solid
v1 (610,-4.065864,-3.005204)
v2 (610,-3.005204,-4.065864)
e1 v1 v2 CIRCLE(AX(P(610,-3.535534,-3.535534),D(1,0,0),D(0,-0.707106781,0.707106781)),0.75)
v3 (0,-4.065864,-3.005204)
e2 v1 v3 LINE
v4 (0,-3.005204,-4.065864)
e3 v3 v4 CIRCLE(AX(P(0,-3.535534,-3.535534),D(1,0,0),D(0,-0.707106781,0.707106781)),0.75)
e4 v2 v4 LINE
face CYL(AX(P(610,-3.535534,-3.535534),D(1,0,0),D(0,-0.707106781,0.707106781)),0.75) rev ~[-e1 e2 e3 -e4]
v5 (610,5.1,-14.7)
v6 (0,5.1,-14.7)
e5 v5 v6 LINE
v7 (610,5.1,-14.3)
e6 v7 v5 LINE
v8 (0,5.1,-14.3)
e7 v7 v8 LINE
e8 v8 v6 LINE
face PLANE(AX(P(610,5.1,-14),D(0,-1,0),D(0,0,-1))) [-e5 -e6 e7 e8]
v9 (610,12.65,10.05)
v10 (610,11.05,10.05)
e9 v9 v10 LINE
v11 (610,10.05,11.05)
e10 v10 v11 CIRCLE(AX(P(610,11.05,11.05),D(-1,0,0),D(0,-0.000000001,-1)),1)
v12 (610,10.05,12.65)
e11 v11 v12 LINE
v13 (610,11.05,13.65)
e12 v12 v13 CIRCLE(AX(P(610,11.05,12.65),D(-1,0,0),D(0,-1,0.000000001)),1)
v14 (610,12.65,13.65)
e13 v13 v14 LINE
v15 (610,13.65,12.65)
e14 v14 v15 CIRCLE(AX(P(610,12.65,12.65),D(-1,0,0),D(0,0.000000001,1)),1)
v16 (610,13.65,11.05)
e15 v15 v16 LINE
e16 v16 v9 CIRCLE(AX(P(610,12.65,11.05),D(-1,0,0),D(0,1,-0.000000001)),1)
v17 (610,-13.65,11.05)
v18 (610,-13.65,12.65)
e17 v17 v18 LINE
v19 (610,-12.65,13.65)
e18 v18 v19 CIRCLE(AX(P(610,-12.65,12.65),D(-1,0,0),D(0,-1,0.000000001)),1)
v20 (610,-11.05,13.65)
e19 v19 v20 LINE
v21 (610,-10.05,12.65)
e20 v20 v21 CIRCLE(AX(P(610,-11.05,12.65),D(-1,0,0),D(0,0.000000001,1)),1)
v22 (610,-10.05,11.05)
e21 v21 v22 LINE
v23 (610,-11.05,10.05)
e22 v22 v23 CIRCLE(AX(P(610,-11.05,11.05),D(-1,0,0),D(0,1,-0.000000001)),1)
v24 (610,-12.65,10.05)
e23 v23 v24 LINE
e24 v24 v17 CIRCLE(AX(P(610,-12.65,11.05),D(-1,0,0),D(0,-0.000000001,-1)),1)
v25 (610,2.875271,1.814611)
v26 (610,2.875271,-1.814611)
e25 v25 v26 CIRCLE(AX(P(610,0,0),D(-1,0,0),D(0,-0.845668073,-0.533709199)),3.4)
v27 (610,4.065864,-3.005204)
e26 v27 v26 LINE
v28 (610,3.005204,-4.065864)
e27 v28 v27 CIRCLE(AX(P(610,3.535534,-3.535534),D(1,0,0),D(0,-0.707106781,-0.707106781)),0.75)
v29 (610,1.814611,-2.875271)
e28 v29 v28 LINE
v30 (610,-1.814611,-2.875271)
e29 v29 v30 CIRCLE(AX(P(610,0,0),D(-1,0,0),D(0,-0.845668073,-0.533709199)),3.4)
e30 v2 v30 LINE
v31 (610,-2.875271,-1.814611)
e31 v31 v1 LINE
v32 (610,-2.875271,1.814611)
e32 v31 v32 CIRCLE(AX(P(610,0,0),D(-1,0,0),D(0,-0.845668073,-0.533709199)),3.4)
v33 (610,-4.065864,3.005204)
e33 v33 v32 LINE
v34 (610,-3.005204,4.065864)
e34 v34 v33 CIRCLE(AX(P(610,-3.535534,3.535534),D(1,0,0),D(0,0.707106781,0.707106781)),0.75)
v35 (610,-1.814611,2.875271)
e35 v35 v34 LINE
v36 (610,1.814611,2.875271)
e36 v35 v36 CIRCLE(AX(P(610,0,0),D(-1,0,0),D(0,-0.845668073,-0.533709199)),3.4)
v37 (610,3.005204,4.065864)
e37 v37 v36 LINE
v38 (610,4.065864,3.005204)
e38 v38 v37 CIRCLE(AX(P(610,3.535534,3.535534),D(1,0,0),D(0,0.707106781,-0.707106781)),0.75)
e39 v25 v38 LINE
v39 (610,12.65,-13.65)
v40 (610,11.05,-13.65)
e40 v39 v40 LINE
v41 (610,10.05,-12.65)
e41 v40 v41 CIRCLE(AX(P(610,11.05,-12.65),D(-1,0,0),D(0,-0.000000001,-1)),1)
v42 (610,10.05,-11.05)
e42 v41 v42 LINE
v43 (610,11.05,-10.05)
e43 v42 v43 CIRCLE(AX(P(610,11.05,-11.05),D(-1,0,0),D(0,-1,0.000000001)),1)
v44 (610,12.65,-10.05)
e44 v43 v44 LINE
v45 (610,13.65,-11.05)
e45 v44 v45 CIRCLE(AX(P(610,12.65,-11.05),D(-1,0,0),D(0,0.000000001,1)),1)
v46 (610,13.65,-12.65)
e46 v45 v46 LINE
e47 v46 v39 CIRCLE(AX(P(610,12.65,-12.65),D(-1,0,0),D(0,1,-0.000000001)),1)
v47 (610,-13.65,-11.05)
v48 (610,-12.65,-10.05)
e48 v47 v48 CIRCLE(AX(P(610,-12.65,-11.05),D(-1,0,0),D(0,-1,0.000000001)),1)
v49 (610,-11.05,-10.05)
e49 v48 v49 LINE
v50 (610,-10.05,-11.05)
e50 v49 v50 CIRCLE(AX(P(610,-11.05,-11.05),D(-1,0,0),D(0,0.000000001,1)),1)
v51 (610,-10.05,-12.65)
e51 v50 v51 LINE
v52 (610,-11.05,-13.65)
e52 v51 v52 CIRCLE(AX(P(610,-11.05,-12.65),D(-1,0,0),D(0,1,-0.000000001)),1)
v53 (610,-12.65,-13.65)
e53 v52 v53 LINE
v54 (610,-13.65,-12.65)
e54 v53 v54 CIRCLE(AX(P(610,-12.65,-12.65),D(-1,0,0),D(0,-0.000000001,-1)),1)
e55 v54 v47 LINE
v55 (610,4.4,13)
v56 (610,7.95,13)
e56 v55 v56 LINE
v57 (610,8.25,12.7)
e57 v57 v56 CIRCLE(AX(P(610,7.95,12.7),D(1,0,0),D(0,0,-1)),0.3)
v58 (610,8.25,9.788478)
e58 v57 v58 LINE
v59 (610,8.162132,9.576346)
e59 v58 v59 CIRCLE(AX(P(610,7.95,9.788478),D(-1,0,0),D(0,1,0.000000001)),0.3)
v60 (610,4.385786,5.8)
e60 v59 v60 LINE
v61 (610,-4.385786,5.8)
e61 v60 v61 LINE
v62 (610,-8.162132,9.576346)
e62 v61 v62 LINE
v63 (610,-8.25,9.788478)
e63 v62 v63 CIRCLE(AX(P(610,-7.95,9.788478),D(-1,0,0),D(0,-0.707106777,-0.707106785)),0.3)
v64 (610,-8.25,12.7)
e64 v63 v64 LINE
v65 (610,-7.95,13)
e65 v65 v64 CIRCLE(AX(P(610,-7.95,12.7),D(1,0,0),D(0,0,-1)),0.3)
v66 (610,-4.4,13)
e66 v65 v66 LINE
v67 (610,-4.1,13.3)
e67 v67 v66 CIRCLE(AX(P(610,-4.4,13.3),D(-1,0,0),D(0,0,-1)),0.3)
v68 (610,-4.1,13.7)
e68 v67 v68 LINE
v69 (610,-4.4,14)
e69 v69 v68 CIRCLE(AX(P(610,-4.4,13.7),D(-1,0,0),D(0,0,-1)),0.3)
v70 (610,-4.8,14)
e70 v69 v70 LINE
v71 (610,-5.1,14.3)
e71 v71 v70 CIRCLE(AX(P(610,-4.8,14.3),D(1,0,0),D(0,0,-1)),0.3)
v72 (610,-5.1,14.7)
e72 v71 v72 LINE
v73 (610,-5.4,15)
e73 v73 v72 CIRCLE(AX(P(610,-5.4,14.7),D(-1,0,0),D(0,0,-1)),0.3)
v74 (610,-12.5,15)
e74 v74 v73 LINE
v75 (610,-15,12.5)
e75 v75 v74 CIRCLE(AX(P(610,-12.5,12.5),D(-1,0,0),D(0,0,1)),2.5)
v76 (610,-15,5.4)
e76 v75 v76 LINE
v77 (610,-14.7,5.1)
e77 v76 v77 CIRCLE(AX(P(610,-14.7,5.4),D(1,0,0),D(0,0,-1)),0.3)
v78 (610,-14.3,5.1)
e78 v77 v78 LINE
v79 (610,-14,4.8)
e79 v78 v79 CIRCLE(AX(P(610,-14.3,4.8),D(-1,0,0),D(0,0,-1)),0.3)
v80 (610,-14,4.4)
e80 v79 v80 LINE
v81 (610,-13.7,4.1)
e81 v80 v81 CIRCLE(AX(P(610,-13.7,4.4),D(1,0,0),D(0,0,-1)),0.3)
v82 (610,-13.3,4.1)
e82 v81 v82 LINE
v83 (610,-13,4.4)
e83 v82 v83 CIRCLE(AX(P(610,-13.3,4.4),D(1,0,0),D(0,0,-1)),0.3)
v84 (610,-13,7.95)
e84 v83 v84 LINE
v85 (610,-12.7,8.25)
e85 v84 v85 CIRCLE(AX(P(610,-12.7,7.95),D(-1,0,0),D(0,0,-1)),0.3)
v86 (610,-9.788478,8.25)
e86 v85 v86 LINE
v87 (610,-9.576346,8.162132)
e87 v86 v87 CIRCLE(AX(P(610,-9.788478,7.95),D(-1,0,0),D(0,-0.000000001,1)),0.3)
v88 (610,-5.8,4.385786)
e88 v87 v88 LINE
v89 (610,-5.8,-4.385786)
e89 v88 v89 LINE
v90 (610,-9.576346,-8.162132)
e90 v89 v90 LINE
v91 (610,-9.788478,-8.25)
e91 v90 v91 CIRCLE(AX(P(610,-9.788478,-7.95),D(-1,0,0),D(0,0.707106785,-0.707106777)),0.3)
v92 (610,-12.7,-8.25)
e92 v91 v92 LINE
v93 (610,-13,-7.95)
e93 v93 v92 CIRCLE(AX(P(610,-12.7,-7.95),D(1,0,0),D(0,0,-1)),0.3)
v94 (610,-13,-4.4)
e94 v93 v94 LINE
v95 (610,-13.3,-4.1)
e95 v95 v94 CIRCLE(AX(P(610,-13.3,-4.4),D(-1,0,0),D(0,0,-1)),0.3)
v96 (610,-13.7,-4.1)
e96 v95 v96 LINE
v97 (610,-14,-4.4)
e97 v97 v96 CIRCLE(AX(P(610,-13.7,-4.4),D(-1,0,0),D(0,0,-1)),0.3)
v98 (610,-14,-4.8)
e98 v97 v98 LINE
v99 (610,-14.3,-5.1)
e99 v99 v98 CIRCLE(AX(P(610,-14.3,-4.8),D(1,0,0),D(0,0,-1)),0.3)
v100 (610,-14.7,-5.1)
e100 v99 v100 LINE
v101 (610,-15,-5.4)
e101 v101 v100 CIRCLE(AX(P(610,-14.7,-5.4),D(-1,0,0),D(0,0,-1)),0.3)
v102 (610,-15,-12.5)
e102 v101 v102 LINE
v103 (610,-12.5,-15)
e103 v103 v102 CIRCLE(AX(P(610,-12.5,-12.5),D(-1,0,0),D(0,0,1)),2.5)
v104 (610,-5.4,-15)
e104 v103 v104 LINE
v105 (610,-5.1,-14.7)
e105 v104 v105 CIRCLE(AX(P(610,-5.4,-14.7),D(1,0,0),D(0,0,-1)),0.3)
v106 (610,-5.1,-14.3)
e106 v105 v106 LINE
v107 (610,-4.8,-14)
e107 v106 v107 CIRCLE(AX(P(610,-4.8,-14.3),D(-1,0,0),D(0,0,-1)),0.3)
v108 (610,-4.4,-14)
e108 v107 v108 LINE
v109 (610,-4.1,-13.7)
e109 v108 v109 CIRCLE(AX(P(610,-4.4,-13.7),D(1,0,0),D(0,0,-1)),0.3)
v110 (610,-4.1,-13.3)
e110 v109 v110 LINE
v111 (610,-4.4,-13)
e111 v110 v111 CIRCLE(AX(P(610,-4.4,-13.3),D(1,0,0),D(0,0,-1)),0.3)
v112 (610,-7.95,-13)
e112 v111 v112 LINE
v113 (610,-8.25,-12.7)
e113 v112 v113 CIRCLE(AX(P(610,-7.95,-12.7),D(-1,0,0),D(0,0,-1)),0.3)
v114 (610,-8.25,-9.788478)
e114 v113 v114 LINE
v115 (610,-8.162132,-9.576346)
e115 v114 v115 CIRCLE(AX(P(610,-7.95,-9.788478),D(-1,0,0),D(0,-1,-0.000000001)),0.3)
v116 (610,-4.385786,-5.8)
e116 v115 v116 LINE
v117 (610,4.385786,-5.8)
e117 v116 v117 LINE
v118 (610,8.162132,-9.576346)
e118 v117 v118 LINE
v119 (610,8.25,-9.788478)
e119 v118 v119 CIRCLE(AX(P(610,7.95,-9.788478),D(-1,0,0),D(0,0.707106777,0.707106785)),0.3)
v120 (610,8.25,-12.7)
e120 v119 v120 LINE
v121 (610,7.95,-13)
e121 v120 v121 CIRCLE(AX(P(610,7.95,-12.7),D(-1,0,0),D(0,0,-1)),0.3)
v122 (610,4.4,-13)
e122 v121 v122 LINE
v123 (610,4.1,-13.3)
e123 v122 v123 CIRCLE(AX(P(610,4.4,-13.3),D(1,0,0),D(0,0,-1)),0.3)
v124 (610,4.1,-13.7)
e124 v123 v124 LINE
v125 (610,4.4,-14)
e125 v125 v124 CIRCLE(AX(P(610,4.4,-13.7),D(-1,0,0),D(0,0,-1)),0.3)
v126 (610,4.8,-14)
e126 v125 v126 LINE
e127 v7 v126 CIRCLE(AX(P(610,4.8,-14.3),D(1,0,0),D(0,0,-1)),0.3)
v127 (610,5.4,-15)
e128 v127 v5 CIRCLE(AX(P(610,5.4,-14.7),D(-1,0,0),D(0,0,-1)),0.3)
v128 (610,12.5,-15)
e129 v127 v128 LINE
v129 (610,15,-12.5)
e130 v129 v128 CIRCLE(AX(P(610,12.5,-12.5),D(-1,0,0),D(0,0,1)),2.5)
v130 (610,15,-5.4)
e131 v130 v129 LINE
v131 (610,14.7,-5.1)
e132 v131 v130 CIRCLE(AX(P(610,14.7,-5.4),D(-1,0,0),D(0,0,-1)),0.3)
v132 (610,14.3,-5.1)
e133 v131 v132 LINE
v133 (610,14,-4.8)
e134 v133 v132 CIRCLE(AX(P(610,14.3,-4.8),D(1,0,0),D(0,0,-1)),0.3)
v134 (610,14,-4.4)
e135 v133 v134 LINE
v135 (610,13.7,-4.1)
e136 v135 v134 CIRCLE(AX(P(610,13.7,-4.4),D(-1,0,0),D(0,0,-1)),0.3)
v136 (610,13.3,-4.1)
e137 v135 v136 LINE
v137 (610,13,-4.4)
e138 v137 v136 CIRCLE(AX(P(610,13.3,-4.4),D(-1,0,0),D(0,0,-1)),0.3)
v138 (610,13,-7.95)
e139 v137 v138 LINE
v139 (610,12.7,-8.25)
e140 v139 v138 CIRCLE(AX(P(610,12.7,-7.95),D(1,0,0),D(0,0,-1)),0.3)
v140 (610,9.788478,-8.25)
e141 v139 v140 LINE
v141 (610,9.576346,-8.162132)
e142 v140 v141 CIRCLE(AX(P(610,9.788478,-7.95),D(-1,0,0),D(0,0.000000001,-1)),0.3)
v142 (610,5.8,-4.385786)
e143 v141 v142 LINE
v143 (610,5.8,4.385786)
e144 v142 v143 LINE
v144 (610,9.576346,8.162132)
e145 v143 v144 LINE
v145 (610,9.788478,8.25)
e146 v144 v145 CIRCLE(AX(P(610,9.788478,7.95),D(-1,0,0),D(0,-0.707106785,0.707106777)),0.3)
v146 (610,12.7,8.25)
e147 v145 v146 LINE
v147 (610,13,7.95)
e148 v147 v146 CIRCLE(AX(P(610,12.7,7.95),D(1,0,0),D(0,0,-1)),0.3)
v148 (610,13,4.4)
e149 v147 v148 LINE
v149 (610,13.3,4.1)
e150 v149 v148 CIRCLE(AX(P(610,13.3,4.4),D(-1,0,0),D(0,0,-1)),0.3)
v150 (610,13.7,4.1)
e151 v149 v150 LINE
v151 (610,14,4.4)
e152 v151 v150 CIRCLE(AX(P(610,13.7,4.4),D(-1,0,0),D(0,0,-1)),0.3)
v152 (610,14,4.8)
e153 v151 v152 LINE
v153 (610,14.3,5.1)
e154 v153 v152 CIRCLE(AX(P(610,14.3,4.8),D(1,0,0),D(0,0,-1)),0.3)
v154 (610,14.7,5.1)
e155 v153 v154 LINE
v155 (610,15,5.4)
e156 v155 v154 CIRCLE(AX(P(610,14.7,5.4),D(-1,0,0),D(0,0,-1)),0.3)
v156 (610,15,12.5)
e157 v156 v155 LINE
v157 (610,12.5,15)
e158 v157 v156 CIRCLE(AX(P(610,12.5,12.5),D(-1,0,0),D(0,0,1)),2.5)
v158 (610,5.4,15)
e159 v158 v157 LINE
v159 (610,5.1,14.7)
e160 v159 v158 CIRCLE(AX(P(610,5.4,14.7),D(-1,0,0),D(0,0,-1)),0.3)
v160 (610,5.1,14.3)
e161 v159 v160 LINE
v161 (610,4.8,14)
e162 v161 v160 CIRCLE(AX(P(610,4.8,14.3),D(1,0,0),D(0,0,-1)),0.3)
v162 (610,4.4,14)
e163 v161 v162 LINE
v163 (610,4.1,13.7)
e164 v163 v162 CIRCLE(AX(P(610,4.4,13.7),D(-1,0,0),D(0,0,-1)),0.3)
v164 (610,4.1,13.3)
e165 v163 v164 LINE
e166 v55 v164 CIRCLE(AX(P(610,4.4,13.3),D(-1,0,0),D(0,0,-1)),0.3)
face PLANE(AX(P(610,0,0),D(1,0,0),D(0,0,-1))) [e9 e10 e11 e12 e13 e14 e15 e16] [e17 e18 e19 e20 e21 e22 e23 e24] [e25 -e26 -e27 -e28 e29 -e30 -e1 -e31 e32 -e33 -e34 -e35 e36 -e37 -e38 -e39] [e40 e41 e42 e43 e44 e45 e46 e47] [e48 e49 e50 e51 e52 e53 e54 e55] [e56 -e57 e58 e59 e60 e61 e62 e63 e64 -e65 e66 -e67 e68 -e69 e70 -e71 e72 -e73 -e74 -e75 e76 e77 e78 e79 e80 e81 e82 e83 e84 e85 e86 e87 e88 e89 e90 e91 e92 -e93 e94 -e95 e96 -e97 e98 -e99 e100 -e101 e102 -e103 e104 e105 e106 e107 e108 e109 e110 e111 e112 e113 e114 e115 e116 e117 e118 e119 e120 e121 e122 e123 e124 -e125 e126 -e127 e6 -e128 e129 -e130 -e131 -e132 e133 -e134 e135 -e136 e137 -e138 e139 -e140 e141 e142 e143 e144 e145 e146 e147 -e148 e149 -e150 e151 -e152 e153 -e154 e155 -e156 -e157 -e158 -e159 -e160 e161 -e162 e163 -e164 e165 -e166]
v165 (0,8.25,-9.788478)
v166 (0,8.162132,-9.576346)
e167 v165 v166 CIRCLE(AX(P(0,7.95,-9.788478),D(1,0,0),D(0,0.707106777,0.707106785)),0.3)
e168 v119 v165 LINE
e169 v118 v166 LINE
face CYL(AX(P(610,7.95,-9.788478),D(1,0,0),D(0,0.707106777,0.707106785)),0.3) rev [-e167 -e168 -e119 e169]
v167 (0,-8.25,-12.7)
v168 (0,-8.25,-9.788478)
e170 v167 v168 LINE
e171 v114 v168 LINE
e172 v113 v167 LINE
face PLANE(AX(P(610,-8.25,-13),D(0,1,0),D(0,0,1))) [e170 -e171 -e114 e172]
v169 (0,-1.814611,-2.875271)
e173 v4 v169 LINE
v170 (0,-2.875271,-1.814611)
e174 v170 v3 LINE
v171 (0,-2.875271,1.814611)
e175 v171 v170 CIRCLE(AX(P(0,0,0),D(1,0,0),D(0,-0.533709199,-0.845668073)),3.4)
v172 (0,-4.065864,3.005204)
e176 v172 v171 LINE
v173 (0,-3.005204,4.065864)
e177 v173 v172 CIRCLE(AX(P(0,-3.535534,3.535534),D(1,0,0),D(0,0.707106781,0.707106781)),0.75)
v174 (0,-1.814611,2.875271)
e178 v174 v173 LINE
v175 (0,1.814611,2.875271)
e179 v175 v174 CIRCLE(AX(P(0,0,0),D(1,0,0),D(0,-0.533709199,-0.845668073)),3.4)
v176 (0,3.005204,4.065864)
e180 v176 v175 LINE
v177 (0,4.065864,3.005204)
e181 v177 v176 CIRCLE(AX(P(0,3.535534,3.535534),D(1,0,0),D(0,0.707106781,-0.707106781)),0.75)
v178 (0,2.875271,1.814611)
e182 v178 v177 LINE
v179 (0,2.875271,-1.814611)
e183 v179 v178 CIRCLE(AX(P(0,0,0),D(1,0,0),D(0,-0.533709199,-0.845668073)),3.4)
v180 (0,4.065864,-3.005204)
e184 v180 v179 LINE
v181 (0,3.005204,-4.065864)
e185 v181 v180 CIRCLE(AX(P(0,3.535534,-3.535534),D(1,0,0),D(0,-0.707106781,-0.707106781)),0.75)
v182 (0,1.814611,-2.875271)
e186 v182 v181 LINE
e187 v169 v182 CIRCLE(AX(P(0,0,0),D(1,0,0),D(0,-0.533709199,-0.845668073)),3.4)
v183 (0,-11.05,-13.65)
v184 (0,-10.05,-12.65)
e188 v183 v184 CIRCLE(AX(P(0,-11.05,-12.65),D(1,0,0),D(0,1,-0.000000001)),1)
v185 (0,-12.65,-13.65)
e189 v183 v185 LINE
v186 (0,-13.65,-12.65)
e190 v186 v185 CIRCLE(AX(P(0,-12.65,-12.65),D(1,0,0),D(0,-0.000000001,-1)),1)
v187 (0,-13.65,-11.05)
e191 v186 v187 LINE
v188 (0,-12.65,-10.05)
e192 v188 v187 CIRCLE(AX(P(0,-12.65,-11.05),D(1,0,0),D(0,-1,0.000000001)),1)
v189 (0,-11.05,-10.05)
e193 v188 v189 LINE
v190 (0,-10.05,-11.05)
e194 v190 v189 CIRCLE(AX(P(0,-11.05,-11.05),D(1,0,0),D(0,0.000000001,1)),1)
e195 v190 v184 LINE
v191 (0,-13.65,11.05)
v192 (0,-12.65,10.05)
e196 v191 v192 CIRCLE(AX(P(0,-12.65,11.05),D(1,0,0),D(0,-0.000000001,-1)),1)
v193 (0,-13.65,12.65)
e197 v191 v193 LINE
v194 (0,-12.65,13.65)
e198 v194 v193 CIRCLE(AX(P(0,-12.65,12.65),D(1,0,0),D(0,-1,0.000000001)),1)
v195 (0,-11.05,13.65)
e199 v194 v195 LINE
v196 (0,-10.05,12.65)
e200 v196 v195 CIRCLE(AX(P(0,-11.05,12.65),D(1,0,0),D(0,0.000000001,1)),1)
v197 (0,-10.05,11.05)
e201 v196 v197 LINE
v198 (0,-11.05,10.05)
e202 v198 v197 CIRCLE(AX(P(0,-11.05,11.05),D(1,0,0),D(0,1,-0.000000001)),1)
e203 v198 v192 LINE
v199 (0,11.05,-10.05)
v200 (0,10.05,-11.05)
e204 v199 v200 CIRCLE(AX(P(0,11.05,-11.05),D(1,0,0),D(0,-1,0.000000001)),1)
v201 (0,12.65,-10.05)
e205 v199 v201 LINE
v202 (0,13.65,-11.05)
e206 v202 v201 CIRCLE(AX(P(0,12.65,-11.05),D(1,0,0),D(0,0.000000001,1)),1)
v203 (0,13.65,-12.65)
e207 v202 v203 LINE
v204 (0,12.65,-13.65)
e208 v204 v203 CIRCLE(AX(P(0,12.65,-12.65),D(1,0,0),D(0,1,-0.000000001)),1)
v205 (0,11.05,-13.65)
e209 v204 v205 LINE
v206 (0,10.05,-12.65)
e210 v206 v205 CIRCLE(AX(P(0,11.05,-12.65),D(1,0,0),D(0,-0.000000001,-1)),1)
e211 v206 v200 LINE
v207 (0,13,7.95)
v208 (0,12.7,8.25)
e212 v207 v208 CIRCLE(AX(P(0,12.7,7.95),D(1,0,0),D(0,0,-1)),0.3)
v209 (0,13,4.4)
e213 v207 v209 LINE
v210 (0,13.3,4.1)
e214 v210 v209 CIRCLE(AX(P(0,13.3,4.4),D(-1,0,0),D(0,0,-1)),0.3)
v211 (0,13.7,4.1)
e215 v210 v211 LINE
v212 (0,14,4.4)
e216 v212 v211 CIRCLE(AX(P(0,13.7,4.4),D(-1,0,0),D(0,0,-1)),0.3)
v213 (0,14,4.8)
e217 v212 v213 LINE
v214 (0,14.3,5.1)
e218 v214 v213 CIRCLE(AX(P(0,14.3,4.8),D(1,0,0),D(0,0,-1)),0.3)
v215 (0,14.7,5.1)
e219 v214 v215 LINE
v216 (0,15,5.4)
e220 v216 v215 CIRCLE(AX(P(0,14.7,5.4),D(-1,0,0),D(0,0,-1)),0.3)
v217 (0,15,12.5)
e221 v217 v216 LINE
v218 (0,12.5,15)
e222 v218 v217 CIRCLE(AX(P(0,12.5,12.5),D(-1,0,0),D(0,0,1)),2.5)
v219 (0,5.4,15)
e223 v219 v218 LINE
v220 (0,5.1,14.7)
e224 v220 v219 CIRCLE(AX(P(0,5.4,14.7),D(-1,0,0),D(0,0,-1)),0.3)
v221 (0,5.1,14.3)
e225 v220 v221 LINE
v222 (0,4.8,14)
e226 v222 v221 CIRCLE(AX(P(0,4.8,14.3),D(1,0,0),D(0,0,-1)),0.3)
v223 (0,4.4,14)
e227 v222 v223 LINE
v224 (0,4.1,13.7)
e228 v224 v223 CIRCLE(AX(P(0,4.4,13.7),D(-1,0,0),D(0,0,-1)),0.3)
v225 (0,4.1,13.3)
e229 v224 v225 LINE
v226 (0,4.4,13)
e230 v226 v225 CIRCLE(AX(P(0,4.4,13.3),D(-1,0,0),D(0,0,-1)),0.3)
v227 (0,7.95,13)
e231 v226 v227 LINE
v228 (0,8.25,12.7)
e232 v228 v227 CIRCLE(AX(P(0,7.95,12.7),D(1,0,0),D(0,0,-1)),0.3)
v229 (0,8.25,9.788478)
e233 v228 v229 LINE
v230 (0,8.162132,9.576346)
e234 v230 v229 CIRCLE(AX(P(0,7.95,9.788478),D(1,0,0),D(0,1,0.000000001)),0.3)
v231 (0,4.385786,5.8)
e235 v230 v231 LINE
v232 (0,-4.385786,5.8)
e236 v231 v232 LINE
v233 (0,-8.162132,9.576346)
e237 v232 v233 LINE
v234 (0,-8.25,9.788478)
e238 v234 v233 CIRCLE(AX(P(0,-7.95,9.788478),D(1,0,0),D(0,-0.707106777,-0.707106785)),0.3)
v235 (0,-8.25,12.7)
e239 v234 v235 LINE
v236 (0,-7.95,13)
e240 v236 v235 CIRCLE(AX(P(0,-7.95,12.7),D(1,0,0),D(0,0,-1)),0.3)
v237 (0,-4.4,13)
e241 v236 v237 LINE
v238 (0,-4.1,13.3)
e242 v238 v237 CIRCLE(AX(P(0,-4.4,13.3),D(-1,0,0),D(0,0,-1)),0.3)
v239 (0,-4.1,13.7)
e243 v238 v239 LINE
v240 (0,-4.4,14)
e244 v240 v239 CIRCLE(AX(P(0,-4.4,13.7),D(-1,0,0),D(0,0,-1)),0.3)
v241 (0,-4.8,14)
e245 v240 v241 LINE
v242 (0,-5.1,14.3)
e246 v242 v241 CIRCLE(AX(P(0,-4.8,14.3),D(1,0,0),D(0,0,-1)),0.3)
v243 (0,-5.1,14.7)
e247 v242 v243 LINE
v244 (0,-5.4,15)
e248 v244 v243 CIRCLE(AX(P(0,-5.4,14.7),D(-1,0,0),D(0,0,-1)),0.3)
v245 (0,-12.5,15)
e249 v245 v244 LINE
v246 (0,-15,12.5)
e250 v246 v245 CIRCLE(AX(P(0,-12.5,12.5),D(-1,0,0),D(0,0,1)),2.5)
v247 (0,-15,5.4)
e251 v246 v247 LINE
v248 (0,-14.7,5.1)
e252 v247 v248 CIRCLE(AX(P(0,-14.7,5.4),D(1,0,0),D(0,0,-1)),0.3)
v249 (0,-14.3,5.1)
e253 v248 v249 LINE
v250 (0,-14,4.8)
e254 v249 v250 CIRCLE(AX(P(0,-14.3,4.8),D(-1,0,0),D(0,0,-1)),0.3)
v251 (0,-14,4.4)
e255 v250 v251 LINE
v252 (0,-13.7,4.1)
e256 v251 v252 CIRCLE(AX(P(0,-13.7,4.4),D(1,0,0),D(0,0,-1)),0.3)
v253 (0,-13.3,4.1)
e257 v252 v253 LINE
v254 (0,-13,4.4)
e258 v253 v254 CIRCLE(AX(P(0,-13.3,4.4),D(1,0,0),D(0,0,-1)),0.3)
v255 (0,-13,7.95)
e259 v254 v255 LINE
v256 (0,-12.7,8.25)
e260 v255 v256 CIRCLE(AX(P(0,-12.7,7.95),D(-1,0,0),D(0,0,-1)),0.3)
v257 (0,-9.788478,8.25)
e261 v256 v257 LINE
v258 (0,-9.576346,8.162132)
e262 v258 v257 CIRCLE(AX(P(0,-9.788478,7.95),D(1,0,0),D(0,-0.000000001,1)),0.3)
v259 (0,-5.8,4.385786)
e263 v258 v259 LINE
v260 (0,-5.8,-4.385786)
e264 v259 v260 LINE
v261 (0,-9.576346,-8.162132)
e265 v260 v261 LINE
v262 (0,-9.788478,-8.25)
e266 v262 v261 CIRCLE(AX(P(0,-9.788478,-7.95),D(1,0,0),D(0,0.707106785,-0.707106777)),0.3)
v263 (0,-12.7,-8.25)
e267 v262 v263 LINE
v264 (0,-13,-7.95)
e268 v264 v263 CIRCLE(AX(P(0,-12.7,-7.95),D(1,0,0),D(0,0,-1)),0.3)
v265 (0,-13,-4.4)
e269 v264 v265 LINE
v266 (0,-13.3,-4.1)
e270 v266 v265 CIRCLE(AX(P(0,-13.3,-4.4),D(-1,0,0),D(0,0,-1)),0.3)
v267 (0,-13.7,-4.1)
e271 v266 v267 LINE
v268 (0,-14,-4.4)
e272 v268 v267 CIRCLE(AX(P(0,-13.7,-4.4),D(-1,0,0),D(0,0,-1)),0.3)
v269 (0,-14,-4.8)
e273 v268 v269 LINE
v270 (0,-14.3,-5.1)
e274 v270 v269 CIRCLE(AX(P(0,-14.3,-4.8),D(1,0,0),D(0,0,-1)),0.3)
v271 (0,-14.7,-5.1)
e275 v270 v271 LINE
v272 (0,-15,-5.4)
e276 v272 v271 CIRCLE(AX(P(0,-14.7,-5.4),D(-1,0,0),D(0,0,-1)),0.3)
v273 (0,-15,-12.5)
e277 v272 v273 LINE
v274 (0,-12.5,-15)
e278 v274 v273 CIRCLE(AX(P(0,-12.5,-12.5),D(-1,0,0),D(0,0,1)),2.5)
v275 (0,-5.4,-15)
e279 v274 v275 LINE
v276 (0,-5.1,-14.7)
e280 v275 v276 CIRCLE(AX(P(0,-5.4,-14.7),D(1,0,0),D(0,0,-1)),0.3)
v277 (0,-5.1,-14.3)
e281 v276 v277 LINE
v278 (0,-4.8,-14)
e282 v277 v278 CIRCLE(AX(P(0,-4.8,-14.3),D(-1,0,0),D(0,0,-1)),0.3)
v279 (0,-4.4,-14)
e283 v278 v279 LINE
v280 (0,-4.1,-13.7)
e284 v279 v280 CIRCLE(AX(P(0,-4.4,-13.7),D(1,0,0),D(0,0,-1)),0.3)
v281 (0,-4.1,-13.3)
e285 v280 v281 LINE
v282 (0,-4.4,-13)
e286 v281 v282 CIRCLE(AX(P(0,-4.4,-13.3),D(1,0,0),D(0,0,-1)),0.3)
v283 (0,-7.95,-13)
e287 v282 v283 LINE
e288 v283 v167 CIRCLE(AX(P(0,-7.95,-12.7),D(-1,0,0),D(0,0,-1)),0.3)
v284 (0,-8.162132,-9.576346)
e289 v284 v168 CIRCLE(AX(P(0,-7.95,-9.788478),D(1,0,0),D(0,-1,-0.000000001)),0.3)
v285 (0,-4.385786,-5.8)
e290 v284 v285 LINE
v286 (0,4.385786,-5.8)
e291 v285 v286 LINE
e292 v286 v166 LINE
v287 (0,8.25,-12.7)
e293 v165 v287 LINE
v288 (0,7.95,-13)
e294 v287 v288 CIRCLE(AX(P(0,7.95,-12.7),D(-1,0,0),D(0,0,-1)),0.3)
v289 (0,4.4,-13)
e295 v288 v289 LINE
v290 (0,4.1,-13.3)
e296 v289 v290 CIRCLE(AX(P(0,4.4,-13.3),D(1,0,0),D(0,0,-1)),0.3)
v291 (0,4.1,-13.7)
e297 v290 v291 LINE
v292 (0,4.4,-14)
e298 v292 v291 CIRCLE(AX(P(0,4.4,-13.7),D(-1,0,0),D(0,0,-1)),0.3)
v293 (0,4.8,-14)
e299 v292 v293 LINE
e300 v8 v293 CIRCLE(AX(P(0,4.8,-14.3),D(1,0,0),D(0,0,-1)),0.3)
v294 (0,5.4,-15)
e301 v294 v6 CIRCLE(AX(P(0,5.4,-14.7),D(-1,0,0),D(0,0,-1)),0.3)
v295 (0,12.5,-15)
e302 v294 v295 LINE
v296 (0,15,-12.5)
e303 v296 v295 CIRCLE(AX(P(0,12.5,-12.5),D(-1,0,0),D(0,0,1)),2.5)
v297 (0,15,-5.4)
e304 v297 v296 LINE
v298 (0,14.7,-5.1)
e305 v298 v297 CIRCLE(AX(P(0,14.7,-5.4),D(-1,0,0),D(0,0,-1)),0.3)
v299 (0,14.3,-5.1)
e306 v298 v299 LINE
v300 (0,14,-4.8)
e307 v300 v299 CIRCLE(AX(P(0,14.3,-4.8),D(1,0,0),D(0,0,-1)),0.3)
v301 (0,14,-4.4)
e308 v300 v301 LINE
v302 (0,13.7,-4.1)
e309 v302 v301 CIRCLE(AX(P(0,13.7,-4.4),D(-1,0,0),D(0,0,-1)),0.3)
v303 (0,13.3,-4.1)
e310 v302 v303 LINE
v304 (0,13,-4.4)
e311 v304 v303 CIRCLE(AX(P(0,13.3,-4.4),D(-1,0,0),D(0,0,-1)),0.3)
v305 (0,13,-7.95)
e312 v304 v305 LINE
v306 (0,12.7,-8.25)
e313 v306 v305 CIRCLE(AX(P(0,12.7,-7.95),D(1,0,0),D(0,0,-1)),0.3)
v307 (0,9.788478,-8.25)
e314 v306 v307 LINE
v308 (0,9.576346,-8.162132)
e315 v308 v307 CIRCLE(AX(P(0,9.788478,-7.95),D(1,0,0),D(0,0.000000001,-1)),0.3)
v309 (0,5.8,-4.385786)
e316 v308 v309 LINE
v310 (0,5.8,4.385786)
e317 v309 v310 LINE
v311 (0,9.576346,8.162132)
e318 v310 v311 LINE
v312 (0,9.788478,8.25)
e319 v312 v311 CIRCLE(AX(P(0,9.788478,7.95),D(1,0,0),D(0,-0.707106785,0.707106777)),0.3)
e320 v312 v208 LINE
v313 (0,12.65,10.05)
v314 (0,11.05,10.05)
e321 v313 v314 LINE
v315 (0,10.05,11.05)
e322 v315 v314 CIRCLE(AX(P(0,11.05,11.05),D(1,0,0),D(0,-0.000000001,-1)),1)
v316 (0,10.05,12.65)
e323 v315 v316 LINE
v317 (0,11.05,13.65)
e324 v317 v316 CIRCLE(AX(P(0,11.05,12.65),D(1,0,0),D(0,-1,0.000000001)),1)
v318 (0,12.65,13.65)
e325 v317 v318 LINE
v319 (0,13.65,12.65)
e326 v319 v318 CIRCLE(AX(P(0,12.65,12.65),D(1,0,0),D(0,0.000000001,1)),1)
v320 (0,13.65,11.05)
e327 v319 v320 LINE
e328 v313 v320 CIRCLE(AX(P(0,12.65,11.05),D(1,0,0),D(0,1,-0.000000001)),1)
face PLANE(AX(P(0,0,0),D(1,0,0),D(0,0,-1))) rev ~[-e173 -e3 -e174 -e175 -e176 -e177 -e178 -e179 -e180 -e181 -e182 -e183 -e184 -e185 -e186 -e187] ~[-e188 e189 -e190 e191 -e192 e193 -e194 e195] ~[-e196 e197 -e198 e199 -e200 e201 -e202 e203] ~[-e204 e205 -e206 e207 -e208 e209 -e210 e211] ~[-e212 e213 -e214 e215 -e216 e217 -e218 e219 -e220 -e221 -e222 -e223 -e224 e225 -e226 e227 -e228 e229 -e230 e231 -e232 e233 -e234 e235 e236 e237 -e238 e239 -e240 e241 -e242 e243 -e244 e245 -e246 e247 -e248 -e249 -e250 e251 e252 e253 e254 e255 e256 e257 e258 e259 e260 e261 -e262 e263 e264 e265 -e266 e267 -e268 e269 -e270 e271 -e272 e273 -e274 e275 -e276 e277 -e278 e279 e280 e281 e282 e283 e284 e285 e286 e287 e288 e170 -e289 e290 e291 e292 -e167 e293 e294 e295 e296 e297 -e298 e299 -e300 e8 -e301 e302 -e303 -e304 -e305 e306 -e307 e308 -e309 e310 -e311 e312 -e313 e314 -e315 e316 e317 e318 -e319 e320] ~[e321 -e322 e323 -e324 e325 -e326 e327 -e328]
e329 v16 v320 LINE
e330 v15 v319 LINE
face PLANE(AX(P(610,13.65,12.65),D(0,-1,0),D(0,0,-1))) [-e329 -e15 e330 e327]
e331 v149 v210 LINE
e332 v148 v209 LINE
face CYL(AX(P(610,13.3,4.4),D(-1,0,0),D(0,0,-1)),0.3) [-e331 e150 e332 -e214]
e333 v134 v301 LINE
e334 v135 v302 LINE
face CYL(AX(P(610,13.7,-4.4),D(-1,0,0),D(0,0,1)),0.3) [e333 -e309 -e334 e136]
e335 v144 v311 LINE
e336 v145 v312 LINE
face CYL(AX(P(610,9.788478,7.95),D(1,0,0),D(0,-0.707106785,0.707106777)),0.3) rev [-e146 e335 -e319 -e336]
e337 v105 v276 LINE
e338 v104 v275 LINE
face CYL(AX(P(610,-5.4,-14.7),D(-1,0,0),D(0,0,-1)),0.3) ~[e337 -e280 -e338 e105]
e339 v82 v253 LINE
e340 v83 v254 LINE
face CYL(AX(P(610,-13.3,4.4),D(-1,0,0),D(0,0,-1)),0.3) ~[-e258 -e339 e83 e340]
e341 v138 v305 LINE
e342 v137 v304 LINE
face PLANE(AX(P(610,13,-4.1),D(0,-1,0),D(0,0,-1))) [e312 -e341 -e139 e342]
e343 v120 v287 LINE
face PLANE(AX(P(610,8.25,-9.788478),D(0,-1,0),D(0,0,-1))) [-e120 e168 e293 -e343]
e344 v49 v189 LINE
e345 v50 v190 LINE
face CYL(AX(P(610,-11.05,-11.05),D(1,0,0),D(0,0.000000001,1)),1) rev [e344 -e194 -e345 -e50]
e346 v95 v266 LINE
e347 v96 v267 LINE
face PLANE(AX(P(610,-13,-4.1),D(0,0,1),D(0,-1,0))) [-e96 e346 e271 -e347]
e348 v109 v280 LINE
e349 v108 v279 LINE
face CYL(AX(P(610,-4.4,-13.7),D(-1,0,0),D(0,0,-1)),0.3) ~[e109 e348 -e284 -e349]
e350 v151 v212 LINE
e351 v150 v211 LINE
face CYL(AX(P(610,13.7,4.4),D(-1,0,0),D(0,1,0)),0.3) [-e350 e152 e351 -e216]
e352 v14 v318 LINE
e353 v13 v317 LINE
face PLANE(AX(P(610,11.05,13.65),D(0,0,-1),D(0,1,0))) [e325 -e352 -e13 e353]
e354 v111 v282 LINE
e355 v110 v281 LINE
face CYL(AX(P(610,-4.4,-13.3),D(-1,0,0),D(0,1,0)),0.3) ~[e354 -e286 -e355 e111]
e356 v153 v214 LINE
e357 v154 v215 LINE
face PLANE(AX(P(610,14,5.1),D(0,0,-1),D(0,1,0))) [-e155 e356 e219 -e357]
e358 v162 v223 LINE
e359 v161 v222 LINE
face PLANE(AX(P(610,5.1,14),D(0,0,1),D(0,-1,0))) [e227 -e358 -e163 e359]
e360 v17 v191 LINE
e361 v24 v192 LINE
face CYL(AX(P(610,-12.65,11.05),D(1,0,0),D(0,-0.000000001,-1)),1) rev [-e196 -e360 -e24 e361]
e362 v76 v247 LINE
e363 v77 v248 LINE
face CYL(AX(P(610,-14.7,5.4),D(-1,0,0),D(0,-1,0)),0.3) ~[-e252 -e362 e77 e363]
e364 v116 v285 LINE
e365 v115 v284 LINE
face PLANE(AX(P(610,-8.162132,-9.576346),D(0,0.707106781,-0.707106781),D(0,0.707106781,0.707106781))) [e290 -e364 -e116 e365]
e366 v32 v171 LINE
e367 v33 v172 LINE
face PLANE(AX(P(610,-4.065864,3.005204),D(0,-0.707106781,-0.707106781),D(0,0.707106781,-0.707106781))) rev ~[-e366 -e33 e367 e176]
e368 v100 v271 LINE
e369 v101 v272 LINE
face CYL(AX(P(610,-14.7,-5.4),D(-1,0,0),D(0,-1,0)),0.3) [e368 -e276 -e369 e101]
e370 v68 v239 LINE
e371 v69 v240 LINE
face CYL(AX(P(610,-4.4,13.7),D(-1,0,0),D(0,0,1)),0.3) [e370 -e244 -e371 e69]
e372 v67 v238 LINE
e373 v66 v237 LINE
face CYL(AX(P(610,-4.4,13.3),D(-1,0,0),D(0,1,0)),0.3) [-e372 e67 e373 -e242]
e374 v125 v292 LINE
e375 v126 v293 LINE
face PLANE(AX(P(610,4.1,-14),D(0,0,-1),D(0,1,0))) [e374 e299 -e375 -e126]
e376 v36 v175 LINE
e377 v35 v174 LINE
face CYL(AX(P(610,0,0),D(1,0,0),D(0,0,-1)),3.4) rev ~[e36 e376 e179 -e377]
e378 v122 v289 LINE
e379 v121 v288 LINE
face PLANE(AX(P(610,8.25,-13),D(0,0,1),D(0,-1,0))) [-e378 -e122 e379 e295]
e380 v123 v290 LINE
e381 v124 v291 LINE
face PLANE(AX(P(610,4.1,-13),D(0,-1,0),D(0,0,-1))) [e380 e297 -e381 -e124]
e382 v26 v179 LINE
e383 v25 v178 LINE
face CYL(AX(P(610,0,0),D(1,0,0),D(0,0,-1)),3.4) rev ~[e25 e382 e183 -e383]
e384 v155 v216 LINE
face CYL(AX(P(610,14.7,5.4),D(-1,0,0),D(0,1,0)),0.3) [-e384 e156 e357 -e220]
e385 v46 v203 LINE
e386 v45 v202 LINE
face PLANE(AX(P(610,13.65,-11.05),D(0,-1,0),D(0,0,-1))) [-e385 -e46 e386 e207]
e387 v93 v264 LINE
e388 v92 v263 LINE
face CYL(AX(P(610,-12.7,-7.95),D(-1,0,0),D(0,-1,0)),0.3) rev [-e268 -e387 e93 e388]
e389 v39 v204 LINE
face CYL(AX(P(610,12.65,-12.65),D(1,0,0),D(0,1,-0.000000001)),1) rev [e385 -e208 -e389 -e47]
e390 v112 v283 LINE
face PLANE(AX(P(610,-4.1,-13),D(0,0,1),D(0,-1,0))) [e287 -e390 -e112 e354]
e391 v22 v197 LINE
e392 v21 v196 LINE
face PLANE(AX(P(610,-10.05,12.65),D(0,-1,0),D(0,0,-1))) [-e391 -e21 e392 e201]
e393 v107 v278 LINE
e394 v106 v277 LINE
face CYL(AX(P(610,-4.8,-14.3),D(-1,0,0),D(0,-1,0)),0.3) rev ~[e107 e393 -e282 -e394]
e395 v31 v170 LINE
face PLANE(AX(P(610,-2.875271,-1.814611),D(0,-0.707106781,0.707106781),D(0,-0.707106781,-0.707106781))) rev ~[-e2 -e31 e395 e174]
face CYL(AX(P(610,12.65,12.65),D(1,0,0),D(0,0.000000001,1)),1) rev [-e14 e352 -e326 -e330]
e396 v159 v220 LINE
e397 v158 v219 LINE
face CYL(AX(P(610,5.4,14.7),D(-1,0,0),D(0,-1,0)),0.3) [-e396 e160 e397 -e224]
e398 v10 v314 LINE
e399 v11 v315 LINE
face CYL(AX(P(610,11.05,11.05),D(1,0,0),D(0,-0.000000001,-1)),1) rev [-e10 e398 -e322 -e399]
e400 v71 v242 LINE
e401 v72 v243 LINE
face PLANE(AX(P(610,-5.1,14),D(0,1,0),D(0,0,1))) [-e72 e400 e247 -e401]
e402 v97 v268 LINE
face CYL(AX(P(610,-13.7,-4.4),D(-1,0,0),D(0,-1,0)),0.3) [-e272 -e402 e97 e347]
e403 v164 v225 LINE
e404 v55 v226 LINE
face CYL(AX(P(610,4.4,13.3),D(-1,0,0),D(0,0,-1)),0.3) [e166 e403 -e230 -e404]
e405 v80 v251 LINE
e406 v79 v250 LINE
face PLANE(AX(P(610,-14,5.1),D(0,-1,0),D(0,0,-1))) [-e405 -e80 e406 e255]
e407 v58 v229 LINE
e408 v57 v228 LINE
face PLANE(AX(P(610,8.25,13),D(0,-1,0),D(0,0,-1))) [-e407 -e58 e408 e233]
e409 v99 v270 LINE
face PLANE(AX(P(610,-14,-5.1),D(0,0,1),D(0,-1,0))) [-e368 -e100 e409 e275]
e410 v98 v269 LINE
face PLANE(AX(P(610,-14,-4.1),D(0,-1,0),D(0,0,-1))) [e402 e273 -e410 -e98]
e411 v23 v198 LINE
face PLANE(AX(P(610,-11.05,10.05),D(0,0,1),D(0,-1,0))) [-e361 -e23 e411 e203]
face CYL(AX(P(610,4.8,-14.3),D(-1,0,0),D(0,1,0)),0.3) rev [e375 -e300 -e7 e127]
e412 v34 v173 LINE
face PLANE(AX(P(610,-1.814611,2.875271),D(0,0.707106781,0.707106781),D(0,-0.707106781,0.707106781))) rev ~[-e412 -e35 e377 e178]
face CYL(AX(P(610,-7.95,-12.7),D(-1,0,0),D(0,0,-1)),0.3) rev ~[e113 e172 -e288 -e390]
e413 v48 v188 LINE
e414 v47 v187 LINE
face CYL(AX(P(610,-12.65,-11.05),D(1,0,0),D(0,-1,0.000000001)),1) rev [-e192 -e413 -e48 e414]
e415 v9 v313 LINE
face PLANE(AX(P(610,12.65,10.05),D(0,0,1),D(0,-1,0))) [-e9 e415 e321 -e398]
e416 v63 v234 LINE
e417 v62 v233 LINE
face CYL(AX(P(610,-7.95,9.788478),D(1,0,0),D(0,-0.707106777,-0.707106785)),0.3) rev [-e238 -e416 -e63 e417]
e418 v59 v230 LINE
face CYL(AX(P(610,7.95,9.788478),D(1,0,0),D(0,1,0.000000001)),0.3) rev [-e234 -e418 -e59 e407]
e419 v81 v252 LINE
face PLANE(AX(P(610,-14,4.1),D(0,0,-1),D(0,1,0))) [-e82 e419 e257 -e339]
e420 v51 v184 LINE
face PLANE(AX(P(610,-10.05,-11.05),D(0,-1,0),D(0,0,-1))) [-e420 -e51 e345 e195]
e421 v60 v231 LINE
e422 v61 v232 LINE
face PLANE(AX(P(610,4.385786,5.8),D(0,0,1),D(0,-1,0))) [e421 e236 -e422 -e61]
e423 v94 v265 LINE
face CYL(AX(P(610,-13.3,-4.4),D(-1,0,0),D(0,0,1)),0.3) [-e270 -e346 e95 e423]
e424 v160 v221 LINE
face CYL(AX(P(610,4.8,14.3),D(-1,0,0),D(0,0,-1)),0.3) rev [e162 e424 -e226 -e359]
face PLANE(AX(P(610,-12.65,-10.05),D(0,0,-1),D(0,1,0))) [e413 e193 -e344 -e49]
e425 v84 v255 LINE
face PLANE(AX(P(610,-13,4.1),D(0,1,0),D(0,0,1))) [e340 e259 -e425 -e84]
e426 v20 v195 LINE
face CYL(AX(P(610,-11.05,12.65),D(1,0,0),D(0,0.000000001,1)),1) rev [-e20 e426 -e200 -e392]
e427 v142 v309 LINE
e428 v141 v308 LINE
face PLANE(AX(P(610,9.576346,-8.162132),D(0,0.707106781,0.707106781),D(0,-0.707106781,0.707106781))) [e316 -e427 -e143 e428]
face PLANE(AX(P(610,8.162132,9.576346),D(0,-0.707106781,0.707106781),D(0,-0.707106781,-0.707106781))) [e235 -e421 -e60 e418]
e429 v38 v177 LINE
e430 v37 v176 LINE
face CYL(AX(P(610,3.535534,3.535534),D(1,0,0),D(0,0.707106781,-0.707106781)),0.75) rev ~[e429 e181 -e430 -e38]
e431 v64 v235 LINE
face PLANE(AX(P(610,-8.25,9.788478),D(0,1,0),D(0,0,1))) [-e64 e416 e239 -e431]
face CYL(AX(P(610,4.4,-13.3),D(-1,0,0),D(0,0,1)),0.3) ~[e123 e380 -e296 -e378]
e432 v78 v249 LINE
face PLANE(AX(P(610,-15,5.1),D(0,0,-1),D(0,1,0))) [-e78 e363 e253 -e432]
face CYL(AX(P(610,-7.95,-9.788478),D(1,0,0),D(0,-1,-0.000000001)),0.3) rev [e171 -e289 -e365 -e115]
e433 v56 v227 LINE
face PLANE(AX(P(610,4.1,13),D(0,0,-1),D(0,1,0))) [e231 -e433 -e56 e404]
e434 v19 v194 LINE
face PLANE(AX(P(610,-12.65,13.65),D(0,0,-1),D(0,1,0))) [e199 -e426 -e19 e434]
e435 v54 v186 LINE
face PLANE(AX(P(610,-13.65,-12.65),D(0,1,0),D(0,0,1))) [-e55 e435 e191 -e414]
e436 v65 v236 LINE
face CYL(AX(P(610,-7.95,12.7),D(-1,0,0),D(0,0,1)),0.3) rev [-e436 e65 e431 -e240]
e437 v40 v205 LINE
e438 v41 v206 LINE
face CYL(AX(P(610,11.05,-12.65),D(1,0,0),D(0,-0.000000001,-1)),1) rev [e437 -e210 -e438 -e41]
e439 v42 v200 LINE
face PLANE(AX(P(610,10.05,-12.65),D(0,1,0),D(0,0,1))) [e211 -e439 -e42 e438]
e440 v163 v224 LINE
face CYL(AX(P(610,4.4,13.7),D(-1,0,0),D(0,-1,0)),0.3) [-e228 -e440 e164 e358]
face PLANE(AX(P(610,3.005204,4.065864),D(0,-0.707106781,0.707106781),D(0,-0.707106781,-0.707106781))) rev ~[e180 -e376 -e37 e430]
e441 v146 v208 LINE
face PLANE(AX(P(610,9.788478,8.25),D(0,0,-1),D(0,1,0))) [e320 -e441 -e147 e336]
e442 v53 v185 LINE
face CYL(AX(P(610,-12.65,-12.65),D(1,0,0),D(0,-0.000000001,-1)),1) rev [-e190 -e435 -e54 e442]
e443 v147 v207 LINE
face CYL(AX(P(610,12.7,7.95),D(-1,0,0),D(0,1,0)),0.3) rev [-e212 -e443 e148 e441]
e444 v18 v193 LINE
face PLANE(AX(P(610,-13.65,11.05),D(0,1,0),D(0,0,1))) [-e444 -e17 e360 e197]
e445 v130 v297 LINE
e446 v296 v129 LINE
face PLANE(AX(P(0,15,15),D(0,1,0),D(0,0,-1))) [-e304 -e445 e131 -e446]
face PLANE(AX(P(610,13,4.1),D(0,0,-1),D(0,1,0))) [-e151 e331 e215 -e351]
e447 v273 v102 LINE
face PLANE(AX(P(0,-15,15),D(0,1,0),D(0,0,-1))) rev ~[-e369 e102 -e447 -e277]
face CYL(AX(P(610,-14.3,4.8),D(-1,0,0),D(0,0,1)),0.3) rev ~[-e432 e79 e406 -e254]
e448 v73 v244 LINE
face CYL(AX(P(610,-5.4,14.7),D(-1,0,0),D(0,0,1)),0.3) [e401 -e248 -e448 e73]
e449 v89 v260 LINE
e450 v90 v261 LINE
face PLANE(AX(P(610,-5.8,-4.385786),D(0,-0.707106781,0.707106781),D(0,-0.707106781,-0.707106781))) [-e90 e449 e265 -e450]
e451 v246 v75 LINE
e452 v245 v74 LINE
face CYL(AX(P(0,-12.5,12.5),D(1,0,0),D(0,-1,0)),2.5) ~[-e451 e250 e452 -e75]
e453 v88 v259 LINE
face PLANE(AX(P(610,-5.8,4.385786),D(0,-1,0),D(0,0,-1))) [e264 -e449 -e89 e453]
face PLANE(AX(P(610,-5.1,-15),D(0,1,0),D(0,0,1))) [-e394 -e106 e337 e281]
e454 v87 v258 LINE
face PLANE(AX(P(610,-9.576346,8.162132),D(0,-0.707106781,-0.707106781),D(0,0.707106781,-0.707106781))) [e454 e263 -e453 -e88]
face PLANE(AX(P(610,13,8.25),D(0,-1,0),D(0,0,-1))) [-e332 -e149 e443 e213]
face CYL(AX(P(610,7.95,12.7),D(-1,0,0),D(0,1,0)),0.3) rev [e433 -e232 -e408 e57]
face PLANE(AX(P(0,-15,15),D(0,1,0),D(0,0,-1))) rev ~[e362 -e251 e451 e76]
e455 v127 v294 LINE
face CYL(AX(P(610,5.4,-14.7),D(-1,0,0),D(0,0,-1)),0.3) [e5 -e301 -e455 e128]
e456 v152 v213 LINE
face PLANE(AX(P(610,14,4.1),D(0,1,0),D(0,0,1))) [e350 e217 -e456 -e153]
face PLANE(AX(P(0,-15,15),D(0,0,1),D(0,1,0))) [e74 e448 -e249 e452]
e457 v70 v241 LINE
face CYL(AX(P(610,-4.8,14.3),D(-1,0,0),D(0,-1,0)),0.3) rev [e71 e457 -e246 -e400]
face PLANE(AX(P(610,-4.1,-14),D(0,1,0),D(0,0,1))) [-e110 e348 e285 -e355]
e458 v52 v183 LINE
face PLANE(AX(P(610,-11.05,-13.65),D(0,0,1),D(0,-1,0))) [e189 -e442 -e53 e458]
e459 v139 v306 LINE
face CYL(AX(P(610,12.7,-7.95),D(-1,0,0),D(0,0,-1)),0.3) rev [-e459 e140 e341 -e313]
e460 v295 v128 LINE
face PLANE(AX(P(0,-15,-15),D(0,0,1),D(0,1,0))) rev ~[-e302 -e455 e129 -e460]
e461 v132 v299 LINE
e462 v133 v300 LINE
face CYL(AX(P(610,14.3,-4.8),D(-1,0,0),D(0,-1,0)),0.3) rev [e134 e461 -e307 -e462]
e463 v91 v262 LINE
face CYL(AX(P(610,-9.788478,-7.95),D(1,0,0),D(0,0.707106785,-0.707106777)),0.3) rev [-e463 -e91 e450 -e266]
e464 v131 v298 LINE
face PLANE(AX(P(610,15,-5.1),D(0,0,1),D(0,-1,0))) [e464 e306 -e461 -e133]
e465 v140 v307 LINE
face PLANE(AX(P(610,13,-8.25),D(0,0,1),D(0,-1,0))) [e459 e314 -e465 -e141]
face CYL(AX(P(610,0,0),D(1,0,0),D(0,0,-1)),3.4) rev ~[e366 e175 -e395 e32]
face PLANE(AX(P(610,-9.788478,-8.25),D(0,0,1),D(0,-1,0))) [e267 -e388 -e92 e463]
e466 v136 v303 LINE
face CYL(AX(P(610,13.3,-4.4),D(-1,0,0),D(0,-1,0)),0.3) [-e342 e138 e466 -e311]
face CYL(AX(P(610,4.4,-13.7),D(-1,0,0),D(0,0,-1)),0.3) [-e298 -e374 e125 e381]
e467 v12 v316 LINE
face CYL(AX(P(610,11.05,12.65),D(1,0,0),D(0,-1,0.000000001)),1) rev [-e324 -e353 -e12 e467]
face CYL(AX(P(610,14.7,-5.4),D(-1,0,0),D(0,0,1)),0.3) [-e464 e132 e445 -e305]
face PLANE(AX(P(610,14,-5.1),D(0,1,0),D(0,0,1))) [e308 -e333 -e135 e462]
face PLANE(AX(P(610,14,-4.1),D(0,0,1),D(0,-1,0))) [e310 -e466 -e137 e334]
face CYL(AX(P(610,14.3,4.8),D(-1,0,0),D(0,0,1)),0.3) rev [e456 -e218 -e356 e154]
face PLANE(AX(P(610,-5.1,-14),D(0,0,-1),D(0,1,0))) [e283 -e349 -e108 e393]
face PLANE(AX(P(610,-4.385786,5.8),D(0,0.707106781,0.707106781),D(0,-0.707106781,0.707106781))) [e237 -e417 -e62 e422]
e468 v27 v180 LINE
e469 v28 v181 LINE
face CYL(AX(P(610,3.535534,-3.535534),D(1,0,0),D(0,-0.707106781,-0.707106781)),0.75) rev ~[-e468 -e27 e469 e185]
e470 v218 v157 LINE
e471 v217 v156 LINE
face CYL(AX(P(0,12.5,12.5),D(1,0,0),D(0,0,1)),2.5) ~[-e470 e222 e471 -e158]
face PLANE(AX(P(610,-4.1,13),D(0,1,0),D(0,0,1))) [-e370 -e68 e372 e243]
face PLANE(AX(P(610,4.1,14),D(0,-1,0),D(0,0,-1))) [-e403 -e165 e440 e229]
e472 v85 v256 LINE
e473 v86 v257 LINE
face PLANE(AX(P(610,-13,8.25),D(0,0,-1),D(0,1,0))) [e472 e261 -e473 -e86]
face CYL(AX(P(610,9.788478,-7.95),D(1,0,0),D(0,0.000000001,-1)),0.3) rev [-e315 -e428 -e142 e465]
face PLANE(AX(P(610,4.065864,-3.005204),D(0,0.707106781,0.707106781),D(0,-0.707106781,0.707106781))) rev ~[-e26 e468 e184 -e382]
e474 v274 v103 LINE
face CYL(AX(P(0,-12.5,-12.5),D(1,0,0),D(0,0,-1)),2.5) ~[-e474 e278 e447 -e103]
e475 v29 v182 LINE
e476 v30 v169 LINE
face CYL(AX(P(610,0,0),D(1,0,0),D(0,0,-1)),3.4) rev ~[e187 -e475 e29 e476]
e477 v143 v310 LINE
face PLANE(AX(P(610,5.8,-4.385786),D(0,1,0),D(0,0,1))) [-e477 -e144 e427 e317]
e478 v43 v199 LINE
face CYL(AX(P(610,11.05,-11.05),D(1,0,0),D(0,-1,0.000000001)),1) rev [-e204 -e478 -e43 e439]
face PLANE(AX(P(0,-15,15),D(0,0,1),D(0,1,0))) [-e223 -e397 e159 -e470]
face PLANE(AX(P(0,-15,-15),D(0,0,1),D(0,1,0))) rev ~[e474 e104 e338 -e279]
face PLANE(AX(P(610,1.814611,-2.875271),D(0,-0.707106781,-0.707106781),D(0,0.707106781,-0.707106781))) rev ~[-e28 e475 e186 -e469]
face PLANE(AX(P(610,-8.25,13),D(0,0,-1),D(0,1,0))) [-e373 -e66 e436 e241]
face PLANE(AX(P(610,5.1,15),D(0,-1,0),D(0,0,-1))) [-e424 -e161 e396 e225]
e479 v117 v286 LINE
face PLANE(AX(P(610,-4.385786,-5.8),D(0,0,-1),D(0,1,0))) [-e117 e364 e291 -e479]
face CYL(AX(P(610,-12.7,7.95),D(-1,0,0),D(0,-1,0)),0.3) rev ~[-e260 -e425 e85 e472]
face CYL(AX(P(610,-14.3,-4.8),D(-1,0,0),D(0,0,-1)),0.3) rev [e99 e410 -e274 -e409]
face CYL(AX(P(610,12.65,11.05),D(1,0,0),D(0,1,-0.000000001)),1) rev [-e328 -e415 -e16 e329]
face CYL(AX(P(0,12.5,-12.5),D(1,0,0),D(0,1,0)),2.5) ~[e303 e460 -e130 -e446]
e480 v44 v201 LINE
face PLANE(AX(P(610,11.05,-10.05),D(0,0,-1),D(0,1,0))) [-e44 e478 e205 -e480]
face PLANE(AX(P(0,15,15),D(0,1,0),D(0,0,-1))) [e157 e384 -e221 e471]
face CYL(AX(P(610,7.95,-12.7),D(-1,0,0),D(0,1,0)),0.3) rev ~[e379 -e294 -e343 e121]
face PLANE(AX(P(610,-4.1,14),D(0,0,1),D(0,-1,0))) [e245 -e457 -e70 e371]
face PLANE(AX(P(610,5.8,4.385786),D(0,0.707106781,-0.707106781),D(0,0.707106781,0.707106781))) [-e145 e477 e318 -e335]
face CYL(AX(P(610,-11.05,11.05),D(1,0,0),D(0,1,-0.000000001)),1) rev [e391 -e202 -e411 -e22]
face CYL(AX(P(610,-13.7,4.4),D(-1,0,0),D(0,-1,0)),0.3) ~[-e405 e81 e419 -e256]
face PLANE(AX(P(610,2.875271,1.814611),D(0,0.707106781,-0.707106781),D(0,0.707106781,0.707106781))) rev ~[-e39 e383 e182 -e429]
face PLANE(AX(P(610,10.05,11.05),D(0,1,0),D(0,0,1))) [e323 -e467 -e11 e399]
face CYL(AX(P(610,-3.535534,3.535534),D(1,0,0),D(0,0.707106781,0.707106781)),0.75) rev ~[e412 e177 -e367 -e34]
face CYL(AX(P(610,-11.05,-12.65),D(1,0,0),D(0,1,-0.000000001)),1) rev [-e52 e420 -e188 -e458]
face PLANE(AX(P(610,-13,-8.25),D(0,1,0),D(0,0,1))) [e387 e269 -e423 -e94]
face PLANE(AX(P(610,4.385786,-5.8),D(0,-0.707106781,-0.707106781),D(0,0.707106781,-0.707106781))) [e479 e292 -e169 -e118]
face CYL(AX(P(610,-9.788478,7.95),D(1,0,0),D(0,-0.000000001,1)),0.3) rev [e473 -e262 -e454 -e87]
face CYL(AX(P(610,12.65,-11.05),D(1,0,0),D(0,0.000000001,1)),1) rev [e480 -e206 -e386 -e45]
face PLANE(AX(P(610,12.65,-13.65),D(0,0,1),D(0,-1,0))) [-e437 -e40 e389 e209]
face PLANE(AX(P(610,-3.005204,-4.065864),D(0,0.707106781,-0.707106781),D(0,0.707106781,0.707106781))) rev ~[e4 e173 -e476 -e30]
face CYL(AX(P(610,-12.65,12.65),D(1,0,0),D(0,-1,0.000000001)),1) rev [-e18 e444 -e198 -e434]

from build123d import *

# Parameters (mm, degrees)
SKETCH2_W                = 30
SKETCH2_H                = 30
BOSS_EXTRUDE1_DEPTH      = 610
SKETCH5_R                = 3.4
CUT_EXTRUDE2_DEPTH       = 611.368741008
CUT_EXTRUDE1_DEPTH       = 611.368741008
FILLET1_R                = 2.5
FILLET2_R                = 0.3
CIRPATTERN1_COUNT        = 4
FILLET1_OF_CIRPATTERN1_R = 2.5
FILLET2_OF_CIRPATTERN1_R = 0.3


with BuildPart() as part:
    # Sketch2 → Boss-Extrude1 (new body)
    with BuildSketch(Plane(origin=(0, 0, 0), x_dir=(0, 0, -1), z_dir=(1, 0, 0))):
        Rectangle(SKETCH2_W, SKETCH2_H)
    extrude(amount=BOSS_EXTRUDE1_DEPTH)

    # Sketch5 → Cut-Extrude2 (cut, through all)
    with BuildSketch(Plane(origin=(610, 0, 0), x_dir=(0, 0, -1), z_dir=(1, 0, 0))):
        Circle(SKETCH5_R)
    extrude(amount=-CUT_EXTRUDE2_DEPTH, mode=Mode.SUBTRACT)

    # Sketch4 → Cut-Extrude1 (cut, through all)
    with BuildSketch(Plane(origin=(610, 0, 0), x_dir=(0, 0, -1), z_dir=(1, 0, 0))):
        with BuildLine():
            Line((-4.385786454, -5.8), (4.385786454, -5.8))
            Line((4.385786454, -5.8), (8.162132034, -9.57634558))
            ThreePointArc((8.162132034, -9.57634558), (8.22716386, -9.673672585), (8.25, -9.788477614))
            Line((8.25, -9.788477614), (8.25, -13))
            Line((8.25, -13), (4.1, -13))
            Line((4.1, -13), (4.1, -14))
            Line((4.1, -14), (5.1, -14))
            Line((5.1, -14), (5.1, -15))
            Line((5.1, -15), (-5.1, -15))
            Line((-5.1, -15), (-5.1, -14))
            Line((-5.1, -14), (-4.1, -14))
            Line((-4.1, -14), (-4.1, -13))
            Line((-4.1, -13), (-8.25, -13))
            Line((-8.25, -13), (-8.25, -9.788477614))
            ThreePointArc((-8.25, -9.788477614), (-8.22716386, -9.673672585), (-8.162132034, -9.57634558))
            Line((-8.162132034, -9.57634558), (-4.385786454, -5.8))
        make_face()
        with BuildLine():
            Line((11.05, -10.05), (12.65, -10.05))
            ThreePointArc((12.65, -10.05), (13.357106781, -10.342893219), (13.65, -11.05))
            Line((13.65, -11.05), (13.65, -12.65))
            ThreePointArc((13.65, -12.65), (13.357106781, -13.357106781), (12.65, -13.65))
            Line((12.65, -13.65), (11.05, -13.65))
            ThreePointArc((11.05, -13.65), (10.342893219, -13.357106781), (10.05, -12.65))
            Line((10.05, -12.65), (10.05, -11.05))
            ThreePointArc((10.05, -11.05), (10.342893219, -10.342893219), (11.05, -10.05))
        make_face()
        with BuildLine():
            Line((4.065863992, -3.00520382), (2.87527145, -1.814611278))
            ThreePointArc((2.87527145, -1.814611278), (2.404163056, -2.404163056), (1.814611278, -2.87527145))
            Line((1.814611278, -2.87527145), (3.00520382, -4.065863992))
            ThreePointArc((3.00520382, -4.065863992), (4.065863992, -4.065863992), (4.065863992, -3.00520382))
        make_face()
    cut_extrude1 = extrude(amount=-CUT_EXTRUDE1_DEPTH, mode=Mode.SUBTRACT)

    # Fillet1
    fillet1_edges = [part.edges().sort_by_distance(p)[0] for p in [
        (305, -15, -15),
    ]]
    fillet(fillet1_edges, radius=FILLET1_R)

    # Fillet2
    fillet2_edges = [part.edges().sort_by_distance(p)[0] for p in [
        (305, -13, -8.25),
        (305, -13, -4.1),
        (305, -14, -4.1),
        (305, -14, -5.1),
        (305, -15, -5.1),
        (305, -15, 5.1),
        (305, -14, 5.1),
        (305, -14, 4.1),
        (305, -13, 4.1),
        (305, -13, 8.25),
    ]]
    fillet(fillet2_edges, radius=FILLET2_R)

    # CirPattern1: Cut-Extrude1 ×4 about axis
    cirpattern1_axis = Axis((0, 0, 0), (1, 0, 0))
    for i in range(1, CIRPATTERN1_COUNT):
        add(cut_extrude1.rotate(cirpattern1_axis, i * 360 / CIRPATTERN1_COUNT), mode=Mode.SUBTRACT)

    # Fillet1 of CirPattern1
    fillet1_of_cirpattern1_edges = [part.edges().sort_by_distance(p)[0] for p in [
        (305, 15, -15),
        (305, 15, 15),
        (305, -15, 15),
    ]]
    fillet(fillet1_of_cirpattern1_edges, radius=FILLET1_OF_CIRPATTERN1_R)

    # Fillet2 of CirPattern1
    fillet2_of_cirpattern1_edges = [part.edges().sort_by_distance(p)[0] for p in [
        (305, 8.25, -13),
        (305, 4.1, -13),
        (305, 4.1, -14),
        (305, 5.1, -14),
        (305, 5.1, -15),
        (305, -5.1, -15),
        (305, -5.1, -14),
        (305, -4.1, -14),
        (305, -4.1, -13),
        (305, -8.25, -13),
        (305, 13, 8.25),
        (305, 13, 4.1),
        (305, 14, 4.1),
        (305, 14, 5.1),
        (305, 15, 5.1),
        (305, 15, -5.1),
        (305, 14, -5.1),
        (305, 14, -4.1),
        (305, 13, -4.1),
        (305, 13, -8.25),
        (305, -8.25, 13),
        (305, -4.1, 13),
        (305, -4.1, 14),
        (305, -5.1, 14),
        (305, -5.1, 15),
        (305, 5.1, 15),
        (305, 5.1, 14),
        (305, 4.1, 14),
        (305, 4.1, 13),
        (305, 8.25, 13),
    ]]
    fillet(fillet2_of_cirpattern1_edges, radius=FILLET2_OF_CIRPATTERN1_R)


solid = part.part
